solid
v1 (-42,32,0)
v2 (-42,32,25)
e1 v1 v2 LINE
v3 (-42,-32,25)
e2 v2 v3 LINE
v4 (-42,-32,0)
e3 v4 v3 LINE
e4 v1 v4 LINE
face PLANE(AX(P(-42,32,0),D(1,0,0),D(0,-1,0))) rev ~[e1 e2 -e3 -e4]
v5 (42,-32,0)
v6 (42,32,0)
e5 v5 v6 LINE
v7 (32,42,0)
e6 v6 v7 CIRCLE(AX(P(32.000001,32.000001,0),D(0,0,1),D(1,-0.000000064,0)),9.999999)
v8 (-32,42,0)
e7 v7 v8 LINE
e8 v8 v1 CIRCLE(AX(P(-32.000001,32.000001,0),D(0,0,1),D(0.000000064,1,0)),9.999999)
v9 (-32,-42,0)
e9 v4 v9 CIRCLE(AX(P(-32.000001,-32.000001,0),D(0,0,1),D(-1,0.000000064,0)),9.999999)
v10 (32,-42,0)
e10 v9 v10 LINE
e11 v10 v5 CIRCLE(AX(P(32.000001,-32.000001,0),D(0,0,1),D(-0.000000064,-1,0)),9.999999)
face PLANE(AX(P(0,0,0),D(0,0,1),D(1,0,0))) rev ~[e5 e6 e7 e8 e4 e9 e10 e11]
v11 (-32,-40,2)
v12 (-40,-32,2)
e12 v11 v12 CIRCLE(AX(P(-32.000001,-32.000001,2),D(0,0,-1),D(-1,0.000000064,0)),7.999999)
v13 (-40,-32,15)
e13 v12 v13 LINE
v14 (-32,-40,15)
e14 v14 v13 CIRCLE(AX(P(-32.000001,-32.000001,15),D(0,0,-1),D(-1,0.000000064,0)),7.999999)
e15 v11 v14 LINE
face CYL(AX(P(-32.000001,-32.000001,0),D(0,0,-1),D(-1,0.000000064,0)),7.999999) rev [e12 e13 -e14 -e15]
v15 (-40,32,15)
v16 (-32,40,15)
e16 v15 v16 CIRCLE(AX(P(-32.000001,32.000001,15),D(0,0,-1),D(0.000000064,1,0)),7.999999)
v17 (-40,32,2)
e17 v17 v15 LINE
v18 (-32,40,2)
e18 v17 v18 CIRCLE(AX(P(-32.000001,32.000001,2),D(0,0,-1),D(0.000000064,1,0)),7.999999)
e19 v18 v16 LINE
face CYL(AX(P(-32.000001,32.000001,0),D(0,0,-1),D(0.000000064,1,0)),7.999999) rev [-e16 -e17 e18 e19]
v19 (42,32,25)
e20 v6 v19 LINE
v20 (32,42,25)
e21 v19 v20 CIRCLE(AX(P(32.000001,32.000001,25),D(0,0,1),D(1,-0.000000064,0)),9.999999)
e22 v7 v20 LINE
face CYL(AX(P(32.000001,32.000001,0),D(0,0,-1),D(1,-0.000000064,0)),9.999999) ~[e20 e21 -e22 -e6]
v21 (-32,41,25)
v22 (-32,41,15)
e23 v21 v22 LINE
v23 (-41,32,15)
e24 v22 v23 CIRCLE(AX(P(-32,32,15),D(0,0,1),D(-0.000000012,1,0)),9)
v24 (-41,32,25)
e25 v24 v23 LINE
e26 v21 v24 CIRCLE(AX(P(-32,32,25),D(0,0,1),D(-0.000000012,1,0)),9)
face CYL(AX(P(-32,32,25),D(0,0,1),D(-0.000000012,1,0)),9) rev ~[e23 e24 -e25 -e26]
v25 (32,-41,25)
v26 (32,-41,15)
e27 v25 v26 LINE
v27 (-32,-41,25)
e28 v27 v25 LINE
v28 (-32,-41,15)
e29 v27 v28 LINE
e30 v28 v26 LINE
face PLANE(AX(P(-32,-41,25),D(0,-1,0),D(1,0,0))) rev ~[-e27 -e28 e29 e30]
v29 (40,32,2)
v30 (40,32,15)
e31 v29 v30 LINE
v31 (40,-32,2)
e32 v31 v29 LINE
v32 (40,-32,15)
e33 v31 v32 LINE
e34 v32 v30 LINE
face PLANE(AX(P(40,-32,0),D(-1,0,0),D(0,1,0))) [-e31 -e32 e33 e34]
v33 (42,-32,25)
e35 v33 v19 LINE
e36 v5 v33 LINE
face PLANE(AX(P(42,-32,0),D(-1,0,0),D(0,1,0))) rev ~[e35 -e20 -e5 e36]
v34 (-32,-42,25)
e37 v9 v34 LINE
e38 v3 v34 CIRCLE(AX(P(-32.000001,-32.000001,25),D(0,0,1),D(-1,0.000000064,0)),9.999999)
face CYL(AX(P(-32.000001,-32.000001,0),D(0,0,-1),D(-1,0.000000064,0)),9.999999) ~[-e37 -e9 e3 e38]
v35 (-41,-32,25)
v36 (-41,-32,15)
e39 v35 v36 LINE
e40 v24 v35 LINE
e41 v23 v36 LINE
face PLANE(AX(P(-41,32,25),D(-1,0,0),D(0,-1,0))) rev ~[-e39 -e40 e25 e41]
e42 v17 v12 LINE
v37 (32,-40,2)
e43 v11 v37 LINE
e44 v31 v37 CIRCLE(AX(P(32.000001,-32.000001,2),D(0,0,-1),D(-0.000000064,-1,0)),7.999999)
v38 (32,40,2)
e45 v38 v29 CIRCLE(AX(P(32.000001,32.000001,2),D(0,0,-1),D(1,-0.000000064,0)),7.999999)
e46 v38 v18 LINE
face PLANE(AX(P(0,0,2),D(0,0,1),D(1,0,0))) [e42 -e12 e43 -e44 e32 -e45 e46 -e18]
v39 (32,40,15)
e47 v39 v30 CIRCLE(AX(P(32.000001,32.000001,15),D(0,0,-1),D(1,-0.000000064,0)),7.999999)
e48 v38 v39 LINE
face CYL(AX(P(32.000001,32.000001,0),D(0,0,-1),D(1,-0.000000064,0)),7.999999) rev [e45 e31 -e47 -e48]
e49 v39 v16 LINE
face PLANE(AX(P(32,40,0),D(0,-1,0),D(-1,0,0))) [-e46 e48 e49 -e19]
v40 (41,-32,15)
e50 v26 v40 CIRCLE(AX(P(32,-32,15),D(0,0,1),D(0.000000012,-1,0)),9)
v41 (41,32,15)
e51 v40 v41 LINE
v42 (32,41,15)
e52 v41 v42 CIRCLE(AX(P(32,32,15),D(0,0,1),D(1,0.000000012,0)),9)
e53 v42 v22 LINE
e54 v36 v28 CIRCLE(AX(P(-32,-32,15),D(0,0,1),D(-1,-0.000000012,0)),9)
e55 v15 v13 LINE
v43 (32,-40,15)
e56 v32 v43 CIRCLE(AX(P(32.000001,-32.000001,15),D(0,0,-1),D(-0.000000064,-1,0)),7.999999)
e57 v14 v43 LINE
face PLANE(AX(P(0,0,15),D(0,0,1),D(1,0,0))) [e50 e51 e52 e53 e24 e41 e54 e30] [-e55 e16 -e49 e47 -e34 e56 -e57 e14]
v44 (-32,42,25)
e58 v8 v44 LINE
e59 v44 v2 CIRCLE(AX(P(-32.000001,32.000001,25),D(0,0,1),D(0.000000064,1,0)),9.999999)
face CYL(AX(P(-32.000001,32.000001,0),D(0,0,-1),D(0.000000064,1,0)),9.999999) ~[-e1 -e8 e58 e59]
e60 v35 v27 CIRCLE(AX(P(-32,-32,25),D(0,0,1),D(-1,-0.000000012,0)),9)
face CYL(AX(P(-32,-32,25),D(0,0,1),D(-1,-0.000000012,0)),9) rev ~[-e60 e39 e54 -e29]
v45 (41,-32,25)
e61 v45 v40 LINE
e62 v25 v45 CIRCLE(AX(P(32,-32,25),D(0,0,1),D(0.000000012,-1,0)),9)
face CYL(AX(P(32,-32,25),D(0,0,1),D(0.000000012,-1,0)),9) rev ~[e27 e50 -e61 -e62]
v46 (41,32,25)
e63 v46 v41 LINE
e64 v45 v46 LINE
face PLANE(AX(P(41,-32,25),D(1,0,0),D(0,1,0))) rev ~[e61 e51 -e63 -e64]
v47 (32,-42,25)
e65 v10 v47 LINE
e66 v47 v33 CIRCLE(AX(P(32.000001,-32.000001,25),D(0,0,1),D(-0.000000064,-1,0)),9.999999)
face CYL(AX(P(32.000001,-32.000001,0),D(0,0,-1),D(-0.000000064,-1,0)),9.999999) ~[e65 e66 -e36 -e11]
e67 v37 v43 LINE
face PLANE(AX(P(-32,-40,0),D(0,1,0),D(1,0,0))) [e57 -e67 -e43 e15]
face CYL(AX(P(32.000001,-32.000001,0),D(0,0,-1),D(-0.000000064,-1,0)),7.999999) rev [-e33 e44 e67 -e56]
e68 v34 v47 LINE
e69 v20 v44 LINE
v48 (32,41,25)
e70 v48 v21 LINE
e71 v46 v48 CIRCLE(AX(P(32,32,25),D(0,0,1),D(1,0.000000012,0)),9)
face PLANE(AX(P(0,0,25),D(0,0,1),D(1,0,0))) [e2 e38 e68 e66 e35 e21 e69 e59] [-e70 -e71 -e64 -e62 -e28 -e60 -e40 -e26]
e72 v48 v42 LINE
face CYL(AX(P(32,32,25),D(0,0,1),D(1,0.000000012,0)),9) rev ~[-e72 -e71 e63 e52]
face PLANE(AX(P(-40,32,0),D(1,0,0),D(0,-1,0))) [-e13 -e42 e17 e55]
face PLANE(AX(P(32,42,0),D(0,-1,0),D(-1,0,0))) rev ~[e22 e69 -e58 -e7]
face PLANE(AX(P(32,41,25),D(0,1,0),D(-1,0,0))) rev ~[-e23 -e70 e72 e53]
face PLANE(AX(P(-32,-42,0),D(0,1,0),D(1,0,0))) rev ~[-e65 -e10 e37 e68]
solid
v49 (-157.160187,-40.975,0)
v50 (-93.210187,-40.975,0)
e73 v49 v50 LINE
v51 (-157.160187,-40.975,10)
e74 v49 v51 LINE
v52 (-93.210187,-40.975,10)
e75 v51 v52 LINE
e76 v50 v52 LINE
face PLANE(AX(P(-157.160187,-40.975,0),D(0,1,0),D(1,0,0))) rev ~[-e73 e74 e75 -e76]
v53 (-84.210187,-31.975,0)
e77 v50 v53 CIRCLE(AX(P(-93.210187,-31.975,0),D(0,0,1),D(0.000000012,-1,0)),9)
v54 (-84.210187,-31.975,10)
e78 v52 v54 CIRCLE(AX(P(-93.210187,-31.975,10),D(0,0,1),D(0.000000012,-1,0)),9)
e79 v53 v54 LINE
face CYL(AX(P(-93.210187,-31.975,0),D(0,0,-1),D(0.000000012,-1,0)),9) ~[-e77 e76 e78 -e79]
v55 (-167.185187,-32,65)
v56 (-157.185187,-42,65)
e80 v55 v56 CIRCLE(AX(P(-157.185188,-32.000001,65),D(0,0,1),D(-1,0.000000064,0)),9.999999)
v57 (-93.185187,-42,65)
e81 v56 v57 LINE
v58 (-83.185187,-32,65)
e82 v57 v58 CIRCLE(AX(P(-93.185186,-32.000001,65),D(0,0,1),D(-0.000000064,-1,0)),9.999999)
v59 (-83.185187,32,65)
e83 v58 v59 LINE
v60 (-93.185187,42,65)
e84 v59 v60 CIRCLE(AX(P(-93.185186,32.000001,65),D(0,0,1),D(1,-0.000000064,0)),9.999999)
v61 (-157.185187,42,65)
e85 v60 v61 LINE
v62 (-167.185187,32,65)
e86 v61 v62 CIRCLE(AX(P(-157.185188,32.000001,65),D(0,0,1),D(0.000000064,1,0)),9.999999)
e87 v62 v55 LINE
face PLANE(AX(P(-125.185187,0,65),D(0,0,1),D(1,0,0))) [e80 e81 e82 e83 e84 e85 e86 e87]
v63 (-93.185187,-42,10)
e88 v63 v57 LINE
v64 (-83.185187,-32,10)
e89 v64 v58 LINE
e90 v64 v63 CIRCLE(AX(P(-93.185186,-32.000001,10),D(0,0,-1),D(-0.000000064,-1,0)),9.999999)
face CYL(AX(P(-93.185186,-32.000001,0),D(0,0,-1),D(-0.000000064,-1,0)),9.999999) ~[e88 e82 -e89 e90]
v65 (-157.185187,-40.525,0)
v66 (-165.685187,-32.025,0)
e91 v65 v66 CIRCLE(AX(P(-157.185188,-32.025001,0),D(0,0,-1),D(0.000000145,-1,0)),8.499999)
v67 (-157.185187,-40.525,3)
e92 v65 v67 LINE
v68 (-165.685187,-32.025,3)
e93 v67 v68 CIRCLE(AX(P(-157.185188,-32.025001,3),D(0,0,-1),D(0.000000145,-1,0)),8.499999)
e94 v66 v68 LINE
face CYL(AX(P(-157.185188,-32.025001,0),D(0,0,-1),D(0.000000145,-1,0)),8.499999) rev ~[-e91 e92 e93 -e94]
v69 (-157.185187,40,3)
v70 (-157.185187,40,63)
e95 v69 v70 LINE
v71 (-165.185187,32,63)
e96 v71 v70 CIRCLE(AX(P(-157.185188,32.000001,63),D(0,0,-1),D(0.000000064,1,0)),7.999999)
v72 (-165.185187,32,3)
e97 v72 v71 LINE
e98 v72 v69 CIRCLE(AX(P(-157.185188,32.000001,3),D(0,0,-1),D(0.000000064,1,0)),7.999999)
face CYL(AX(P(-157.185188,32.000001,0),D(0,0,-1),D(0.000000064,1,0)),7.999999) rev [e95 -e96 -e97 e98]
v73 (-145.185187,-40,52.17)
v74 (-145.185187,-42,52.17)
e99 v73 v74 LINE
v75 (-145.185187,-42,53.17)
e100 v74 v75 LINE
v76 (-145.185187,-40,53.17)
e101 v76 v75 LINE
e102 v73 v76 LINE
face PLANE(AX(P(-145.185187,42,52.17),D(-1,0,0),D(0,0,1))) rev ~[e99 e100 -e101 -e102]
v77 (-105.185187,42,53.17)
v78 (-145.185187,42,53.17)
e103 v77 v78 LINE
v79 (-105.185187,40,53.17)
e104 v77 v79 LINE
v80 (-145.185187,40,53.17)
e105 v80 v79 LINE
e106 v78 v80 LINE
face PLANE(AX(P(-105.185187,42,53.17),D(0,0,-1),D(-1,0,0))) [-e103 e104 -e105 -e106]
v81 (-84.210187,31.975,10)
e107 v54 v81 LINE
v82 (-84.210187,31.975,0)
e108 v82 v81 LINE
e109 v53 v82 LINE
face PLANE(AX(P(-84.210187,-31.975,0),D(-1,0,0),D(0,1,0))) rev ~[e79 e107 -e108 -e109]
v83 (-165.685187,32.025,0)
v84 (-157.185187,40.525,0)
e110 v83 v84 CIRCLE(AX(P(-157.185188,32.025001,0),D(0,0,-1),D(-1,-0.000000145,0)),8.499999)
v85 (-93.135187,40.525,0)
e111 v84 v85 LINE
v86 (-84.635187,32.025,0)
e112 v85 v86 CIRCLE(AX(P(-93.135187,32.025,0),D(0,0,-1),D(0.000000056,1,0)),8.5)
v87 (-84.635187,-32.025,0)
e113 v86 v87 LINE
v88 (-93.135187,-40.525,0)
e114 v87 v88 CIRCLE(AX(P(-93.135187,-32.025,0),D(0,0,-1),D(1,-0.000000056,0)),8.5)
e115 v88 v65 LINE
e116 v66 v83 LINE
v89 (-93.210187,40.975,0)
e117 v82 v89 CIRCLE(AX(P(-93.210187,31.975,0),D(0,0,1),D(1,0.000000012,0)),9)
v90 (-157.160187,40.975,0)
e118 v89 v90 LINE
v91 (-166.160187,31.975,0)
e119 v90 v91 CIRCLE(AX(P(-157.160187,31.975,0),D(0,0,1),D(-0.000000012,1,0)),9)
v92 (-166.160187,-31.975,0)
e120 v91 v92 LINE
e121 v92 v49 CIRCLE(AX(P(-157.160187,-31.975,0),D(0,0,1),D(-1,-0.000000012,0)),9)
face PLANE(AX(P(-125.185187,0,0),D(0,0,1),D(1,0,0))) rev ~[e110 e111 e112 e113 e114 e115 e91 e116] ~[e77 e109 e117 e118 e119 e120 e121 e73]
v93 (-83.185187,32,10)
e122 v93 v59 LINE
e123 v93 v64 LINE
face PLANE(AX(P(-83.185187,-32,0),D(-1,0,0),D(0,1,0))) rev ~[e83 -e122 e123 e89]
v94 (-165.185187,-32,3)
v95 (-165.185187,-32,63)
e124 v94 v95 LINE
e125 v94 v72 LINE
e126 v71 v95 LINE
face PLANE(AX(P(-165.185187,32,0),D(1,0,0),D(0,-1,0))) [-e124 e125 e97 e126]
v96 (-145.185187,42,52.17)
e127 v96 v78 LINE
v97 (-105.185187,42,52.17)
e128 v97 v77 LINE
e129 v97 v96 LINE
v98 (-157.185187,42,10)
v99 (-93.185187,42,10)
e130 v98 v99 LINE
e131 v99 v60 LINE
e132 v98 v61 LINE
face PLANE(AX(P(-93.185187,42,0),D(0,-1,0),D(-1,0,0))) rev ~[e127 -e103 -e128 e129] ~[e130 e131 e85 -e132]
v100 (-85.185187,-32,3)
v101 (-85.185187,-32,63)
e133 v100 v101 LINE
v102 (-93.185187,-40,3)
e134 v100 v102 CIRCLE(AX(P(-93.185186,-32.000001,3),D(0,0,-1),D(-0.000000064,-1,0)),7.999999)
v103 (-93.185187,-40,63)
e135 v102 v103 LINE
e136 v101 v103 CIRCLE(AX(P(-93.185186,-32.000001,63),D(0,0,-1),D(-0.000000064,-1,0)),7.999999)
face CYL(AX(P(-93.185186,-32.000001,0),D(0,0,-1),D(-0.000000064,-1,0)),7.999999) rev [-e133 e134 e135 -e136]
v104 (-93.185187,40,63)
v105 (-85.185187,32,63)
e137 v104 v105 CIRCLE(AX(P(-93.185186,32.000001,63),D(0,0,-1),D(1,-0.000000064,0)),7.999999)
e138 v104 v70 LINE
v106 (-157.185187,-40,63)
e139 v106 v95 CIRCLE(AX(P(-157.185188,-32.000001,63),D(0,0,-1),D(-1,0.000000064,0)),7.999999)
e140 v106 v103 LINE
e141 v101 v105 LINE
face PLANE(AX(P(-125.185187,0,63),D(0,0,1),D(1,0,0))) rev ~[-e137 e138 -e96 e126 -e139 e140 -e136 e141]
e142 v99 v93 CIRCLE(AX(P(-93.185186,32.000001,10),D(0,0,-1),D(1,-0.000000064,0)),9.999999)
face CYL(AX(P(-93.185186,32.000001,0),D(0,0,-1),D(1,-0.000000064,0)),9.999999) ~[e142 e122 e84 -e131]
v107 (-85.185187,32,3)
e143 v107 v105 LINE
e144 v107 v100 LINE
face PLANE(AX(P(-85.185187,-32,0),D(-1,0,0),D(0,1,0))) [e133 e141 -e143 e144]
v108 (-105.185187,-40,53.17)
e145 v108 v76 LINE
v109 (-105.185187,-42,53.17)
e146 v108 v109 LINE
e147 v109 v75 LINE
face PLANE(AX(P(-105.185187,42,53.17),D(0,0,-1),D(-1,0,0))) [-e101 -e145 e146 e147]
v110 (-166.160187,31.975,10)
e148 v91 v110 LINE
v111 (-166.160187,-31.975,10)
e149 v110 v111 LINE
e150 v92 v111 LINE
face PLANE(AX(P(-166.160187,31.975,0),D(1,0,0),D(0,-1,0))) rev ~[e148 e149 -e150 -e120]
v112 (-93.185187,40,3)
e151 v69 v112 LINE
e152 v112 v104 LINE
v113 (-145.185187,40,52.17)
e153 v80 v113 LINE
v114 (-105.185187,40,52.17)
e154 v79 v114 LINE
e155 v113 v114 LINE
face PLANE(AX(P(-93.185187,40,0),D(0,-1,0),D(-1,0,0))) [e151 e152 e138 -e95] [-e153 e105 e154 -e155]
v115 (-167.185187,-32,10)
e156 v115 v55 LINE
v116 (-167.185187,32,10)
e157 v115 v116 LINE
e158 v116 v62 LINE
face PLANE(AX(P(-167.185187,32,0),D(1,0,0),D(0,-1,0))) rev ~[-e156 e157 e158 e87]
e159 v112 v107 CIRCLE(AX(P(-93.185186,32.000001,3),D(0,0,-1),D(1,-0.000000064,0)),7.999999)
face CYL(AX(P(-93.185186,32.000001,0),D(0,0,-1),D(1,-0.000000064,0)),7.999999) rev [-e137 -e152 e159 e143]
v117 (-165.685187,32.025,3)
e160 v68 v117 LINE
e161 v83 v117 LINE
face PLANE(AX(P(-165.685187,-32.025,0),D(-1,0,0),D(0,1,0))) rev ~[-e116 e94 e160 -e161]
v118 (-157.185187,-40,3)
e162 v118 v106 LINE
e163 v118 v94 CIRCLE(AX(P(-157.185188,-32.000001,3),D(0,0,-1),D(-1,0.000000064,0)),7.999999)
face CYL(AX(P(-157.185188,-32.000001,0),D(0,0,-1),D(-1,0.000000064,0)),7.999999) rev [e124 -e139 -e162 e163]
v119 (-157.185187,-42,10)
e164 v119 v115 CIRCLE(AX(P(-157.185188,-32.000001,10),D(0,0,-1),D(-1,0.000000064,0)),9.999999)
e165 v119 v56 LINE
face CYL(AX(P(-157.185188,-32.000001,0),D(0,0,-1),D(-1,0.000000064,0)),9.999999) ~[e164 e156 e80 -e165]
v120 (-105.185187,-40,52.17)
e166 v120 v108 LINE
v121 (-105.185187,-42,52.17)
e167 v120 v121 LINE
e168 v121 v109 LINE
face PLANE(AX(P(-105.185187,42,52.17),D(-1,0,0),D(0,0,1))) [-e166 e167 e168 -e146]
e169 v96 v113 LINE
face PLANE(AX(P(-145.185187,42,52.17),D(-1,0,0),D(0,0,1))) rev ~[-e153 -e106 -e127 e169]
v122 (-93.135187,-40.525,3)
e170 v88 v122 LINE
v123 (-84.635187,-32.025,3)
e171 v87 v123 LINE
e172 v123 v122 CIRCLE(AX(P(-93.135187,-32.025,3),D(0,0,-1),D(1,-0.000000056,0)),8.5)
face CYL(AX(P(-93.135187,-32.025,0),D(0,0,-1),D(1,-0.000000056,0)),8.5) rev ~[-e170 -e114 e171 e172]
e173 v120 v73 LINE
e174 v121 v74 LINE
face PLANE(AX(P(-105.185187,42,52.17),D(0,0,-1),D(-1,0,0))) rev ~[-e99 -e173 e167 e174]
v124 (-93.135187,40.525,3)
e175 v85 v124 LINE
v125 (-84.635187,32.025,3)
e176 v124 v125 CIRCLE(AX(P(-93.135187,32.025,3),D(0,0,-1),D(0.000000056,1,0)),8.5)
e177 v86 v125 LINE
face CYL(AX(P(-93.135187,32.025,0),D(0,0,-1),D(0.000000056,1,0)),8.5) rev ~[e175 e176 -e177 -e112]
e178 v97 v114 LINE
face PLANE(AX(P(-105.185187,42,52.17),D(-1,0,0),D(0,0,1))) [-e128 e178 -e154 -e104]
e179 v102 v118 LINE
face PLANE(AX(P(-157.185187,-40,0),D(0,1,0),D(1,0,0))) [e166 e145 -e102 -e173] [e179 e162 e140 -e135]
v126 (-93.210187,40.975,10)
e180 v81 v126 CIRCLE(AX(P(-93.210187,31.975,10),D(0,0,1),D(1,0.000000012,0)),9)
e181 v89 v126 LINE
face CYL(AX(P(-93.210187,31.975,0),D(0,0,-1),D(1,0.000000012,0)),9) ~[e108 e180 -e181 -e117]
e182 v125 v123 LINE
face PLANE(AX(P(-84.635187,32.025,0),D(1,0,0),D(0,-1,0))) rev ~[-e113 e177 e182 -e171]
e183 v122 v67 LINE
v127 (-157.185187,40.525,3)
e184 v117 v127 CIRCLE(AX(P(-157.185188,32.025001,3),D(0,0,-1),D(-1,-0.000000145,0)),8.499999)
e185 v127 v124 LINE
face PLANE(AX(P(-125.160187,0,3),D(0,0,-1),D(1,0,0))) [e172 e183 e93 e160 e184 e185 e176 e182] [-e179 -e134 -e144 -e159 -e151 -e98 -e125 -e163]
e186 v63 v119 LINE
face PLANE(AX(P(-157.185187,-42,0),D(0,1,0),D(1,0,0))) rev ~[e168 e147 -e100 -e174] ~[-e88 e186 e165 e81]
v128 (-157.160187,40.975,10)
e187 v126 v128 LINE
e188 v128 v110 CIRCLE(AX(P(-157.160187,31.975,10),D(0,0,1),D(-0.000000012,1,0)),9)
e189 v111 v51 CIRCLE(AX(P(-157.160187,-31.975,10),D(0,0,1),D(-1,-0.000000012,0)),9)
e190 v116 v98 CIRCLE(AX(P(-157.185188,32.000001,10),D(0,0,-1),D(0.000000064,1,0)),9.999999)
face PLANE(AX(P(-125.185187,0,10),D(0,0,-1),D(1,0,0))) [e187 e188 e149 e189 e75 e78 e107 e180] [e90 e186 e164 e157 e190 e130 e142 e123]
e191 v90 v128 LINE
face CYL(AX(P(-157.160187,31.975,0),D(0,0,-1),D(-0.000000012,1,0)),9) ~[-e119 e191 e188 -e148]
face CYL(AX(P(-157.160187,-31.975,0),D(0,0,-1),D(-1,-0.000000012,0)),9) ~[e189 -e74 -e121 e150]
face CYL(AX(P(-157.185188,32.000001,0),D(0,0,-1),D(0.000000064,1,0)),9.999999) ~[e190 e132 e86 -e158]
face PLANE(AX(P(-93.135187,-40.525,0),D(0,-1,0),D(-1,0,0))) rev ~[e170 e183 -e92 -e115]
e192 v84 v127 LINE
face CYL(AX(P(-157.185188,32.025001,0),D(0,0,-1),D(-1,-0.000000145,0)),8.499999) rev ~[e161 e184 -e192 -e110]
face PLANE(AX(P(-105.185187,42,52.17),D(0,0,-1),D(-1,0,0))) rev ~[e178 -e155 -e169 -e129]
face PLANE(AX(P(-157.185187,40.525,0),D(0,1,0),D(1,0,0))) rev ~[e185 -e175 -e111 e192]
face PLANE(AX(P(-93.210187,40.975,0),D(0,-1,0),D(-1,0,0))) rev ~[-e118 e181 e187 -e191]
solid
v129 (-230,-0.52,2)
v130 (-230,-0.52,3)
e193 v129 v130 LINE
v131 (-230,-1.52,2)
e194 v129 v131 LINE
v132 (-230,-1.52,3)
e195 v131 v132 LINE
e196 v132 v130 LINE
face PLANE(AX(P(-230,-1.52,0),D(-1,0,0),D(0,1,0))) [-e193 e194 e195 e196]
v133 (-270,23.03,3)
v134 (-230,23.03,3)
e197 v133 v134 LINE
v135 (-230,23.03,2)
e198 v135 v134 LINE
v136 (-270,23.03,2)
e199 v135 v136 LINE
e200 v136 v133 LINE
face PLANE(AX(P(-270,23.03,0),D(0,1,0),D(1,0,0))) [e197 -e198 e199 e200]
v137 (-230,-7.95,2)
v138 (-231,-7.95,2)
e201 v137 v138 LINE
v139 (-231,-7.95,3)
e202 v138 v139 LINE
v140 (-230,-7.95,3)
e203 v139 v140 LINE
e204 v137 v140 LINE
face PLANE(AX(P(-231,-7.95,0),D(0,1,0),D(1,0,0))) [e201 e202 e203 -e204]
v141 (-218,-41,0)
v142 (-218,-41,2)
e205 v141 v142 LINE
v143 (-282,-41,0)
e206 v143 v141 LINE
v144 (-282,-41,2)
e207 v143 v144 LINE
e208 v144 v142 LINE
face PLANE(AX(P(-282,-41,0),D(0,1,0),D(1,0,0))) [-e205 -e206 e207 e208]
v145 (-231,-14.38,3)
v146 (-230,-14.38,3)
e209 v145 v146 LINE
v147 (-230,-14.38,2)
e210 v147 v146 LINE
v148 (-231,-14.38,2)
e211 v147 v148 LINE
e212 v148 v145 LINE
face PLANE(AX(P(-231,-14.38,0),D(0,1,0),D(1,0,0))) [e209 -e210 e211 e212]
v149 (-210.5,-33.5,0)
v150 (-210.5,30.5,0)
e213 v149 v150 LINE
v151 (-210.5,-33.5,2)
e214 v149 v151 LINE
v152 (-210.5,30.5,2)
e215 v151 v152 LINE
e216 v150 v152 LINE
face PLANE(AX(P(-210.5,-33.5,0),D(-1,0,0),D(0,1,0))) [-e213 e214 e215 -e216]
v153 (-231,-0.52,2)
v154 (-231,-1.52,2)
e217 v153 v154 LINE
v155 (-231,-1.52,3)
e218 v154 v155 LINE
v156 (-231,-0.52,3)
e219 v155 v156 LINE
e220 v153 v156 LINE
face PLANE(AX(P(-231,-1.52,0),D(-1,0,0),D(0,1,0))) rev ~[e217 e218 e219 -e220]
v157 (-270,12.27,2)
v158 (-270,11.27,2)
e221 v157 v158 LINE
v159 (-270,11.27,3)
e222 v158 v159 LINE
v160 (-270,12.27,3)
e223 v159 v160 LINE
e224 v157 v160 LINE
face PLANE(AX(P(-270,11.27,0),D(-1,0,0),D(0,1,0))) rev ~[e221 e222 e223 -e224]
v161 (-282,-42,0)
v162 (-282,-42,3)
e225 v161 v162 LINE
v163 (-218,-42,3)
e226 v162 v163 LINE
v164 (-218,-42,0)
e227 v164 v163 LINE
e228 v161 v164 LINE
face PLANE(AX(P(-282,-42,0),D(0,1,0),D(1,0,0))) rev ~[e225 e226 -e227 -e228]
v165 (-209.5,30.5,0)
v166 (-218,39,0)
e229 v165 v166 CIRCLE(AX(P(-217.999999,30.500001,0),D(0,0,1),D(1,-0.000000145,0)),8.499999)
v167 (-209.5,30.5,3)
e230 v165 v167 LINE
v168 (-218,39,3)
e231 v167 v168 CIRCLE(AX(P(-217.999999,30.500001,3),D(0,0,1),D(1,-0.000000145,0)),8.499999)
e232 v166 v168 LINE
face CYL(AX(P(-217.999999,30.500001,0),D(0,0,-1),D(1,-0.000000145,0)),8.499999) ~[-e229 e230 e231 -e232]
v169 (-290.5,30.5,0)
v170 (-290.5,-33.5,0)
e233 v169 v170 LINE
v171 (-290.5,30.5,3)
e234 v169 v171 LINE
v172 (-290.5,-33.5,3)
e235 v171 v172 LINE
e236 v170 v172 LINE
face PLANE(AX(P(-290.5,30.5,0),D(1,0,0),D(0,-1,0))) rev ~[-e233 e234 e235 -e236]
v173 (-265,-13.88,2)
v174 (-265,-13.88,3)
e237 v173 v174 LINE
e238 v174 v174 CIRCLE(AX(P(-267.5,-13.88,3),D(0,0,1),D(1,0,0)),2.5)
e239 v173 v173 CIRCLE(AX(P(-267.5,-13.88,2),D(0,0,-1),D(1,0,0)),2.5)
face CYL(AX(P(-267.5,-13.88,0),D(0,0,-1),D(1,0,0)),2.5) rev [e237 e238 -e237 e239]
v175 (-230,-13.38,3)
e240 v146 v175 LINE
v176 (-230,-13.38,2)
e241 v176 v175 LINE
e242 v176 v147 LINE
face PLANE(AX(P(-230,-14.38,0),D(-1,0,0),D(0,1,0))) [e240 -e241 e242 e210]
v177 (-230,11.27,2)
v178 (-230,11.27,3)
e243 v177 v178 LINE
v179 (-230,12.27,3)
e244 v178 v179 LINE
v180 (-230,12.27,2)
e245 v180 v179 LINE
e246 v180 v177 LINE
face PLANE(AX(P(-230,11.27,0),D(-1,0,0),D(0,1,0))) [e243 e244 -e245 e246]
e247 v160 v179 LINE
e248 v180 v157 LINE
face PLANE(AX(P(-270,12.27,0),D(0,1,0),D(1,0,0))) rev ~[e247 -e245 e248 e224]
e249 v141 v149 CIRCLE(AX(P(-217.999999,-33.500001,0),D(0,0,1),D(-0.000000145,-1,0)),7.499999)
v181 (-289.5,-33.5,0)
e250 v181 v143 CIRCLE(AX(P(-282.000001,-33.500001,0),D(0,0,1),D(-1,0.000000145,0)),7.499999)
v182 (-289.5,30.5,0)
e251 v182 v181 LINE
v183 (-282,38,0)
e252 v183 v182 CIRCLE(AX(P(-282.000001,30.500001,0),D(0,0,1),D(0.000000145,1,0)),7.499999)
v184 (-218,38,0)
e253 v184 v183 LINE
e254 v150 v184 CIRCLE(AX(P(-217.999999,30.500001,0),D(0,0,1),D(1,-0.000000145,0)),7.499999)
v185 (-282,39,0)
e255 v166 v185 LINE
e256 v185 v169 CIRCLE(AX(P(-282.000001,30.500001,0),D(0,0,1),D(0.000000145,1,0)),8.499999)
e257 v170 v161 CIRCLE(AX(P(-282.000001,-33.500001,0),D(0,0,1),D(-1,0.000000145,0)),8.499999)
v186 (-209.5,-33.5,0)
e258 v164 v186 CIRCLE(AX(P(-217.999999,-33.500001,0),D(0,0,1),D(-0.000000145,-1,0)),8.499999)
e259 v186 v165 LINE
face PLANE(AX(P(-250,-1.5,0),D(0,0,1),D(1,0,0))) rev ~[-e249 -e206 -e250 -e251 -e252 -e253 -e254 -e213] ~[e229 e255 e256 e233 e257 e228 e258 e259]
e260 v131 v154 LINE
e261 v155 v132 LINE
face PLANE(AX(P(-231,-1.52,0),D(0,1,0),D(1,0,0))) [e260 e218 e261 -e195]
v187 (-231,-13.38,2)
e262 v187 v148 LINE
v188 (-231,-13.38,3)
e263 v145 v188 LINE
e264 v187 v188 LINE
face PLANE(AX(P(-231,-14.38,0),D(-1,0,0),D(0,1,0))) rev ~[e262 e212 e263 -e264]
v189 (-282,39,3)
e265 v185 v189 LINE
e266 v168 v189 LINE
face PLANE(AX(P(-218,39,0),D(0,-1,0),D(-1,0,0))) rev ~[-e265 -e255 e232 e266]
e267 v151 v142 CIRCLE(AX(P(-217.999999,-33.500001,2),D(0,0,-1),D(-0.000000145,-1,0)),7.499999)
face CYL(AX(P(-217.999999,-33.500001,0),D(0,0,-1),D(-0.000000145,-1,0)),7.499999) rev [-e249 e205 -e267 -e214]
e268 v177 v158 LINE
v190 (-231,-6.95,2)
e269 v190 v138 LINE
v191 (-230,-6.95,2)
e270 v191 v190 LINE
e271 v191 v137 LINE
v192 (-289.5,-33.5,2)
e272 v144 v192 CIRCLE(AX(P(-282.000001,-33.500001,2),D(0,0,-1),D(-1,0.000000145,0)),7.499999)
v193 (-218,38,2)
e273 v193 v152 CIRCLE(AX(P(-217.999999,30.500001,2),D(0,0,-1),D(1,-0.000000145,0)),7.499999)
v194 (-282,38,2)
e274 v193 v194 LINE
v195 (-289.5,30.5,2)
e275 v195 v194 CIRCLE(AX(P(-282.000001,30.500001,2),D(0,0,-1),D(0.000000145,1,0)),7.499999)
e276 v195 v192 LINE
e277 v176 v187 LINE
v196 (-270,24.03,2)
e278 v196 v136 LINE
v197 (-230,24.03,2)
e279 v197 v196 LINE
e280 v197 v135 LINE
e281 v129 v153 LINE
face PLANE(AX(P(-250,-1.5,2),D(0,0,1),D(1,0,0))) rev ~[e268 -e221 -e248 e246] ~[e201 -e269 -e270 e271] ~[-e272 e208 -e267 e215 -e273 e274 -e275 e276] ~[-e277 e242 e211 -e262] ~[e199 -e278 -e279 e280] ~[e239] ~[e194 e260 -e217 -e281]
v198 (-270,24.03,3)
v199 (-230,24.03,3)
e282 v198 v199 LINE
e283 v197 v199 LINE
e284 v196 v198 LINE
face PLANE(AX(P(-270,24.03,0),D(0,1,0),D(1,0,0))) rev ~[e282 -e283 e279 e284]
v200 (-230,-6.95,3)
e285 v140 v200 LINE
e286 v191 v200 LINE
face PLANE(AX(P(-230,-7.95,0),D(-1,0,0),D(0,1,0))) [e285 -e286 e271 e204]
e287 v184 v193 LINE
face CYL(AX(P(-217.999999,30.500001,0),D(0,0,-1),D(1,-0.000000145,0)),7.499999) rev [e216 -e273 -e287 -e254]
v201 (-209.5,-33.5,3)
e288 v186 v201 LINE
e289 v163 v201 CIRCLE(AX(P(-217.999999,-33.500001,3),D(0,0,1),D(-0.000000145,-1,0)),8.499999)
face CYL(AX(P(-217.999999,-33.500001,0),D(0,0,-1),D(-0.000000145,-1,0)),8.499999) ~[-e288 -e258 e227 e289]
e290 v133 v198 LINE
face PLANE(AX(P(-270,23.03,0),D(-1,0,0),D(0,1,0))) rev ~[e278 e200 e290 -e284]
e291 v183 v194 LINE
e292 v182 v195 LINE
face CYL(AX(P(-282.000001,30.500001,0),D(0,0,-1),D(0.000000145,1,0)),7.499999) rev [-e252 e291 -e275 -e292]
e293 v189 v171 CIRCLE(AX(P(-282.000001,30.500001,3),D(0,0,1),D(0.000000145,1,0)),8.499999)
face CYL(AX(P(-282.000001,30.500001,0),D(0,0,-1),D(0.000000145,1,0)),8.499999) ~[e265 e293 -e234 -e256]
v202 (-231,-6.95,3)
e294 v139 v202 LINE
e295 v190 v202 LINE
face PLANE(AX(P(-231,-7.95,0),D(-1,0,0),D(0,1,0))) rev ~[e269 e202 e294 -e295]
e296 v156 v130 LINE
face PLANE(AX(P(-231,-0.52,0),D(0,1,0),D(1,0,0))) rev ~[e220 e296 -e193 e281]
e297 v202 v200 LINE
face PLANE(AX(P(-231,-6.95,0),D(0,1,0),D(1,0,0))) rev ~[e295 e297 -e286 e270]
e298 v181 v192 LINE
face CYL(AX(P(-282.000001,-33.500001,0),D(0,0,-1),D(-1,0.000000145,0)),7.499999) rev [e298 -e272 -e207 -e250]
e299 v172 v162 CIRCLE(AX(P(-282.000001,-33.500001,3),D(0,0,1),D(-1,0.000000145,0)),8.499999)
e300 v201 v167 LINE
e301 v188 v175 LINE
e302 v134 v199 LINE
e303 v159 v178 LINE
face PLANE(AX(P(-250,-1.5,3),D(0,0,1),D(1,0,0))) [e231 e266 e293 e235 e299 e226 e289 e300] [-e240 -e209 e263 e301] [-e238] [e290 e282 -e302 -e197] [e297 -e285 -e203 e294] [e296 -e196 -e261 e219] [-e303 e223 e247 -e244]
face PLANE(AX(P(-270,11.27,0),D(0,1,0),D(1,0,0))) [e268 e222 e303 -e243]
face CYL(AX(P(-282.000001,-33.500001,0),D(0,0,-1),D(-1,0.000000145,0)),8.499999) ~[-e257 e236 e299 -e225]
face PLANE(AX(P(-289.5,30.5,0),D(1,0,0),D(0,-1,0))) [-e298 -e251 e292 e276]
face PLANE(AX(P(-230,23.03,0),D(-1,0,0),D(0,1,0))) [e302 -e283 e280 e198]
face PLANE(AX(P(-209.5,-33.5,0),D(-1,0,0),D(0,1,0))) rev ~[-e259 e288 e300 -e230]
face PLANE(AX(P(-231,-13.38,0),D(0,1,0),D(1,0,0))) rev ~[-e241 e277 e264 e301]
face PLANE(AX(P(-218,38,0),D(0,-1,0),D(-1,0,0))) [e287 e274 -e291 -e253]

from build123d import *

# Parameters (mm, degrees)
F1_DEPTH  = 25
F2_T      = -2
F4_DEPTH  = 10
F6_DEPTH  = 65
F7_T      = -2
F8_W      = 91.175536
F8_H      = 98.510154
F9_DEPTH  = 10
F11_DEPTH = 3
F12_R     = 2.5
F12_W     = 1
F12_H     = 1
F12_W_2   = 40
F13_DEPTH = 3
F14_W     = 40
F14_H     = 1
F15_DEPTH = 84.001
F16_T     = -1
F17_W     = 56.260198
F17_H     = 52.576504
F18_DEPTH = 25


with BuildPart() as f1:
    # F0 (on Top) → F1 (new body)
    with BuildSketch(Plane.XY):
        with BuildLine():
            ThreePointArc((-42, -32), (-39.071068, -39.071068), (-32, -42))
            Line((-32, -42), (32, -42))
            ThreePointArc((32, -42), (39.071068, -39.071068), (42, -32))
            Line((42, -32), (42, 32))
            ThreePointArc((42, 32), (39.071068, 39.071068), (32, 42))
            Line((32, 42), (-32, 42))
            ThreePointArc((-32, 42), (-39.071068, 39.071068), (-42, 32))
            Line((-42, 32), (-42, -32))
        make_face()
    extrude(amount=F1_DEPTH)

    # F2
    f2_openings = [f1.faces().sort_by_distance(p)[0] for p in [
        (0, 0, 25),
    ]]
    offset(amount=F2_T, openings=f2_openings)

    # F3 (on face) → F4 (cut)
    with BuildSketch(Plane.XY.offset(25)):
        with BuildLine():
            Line((32, 41), (-32, 41))
            ThreePointArc((-32, 41), (-38.363961, 38.363961), (-41, 32))
            Line((-41, 32), (-41, -32))
            ThreePointArc((-41, -32), (-38.363961, -38.363961), (-32, -41))
            Line((-32, -41), (32, -41))
            ThreePointArc((32, -41), (38.363961, -38.363961), (41, -32))
            Line((41, -32), (41, 32))
            ThreePointArc((41, 32), (38.363961, 38.363961), (32, 41))
        make_face()
    extrude(amount=-F4_DEPTH, mode=Mode.SUBTRACT)


with BuildPart() as f6:
    # F5 (on Top) → F6 (new body)
    with BuildSketch(Plane.XY):
        with BuildLine():
            Line((-157.185187, -42), (-93.185187, -42))
            ThreePointArc((-93.185187, -42), (-86.114119, -39.071068), (-83.185187, -32))
            Line((-83.185187, -32), (-83.185187, 32))
            ThreePointArc((-83.185187, 32), (-86.114119, 39.071068), (-93.185187, 42))
            Line((-93.185187, 42), (-157.185187, 42))
            ThreePointArc((-157.185187, 42), (-164.256255, 39.071068), (-167.185187, 32))
            Line((-167.185187, 32), (-167.185187, -32))
            ThreePointArc((-167.185187, -32), (-164.256255, -39.071068), (-157.185187, -42))
        make_face()
    extrude(amount=F6_DEPTH)

    # F7
    f7_openings = [f6.faces().sort_by_distance(p)[0] for p in [
        (-125.185187, 0, 0),
    ]]
    offset(amount=F7_T, openings=f7_openings)

    # F8 (on face) → F9 (cut)
    with BuildSketch(Plane(origin=(0, 0, 0), x_dir=(1, 0, 0), z_dir=(0, 0, -1))):
        with Locations((-125.185187, 0)):
            Rectangle(F8_W, F8_H)
        with BuildLine():
            ThreePointArc((-166.160187, 31.975), (-163.524148, 38.338961), (-157.160187, 40.975))
            Line((-157.160187, 40.975), (-93.210187, 40.975))
            ThreePointArc((-93.210187, 40.975), (-86.846226, 38.338961), (-84.210187, 31.975))
            Line((-84.210187, 31.975), (-84.210187, -31.975))
            ThreePointArc((-84.210187, -31.975), (-86.846226, -38.338961), (-93.210187, -40.975))
            Line((-93.210187, -40.975), (-157.160187, -40.975))
            ThreePointArc((-157.160187, -40.975), (-163.524148, -38.338961), (-166.160187, -31.975))
            Line((-166.160187, -31.975), (-166.160187, 31.975))
        make_face(mode=Mode.SUBTRACT)
    extrude(amount=-F9_DEPTH, mode=Mode.SUBTRACT)

    # F10 (on face) → F11 (cut)
    with BuildSketch(Plane(origin=(0, 0, 0), x_dir=(1, 0, 0), z_dir=(0, 0, -1))):
        with BuildLine():
            Line((-157.185187, -40.525), (-93.135187, -40.525))
            ThreePointArc((-93.135187, -40.525), (-87.12478, -38.035408), (-84.635187, -32.025))
            Line((-84.635187, -32.025), (-84.635187, 32.025))
            ThreePointArc((-84.635187, 32.025), (-87.12478, 38.035408), (-93.135187, 40.525))
            Line((-93.135187, 40.525), (-157.185187, 40.525))
            ThreePointArc((-157.185187, 40.525), (-163.195595, 38.035408), (-165.685187, 32.025))
            Line((-165.685187, 32.025), (-165.685187, -32.025))
            ThreePointArc((-165.685187, -32.025), (-163.195595, -38.035408), (-157.185187, -40.525))
        make_face()
    extrude(amount=-F11_DEPTH, mode=Mode.SUBTRACT)

    # F14 (on face) → F15 (cut, through all)
    with BuildSketch(Plane(origin=(0, 42, 0), x_dir=(-1, 0, 0), z_dir=(0, 1, 0))):
        with Locations((125.185187, 52.67)):
            Rectangle(F14_W, F14_H)
    extrude(amount=-F15_DEPTH, mode=Mode.SUBTRACT)


with BuildPart() as f13:
    # F12 (on Top) → F13 (new body)
    with BuildSketch(Plane.XY):
        with BuildLine():
            ThreePointArc((-290.5, -33.5), (-288.010408, -39.510408), (-282, -42))
            Line((-282, -42), (-218, -42))
            ThreePointArc((-218, -42), (-211.989592, -39.510408), (-209.5, -33.5))
            Line((-209.5, -33.5), (-209.5, 30.5))
            ThreePointArc((-209.5, 30.5), (-211.989592, 36.510408), (-218, 39))
            Line((-218, 39), (-282, 39))
            ThreePointArc((-282, 39), (-288.010408, 36.510408), (-290.5, 30.5))
            Line((-290.5, 30.5), (-290.5, -33.5))
        make_face()
        with Locations((-267.5, -13.88)):
            Circle(F12_R, mode=Mode.SUBTRACT)
        with Locations((-230.5, -13.88)):
            Rectangle(F12_W, F12_H, mode=Mode.SUBTRACT)
        with Locations((-230.5, -7.45)):
            Rectangle(F12_W, F12_H, mode=Mode.SUBTRACT)
        with Locations((-230.5, -1.02)):
            Rectangle(F12_W, F12_H, mode=Mode.SUBTRACT)
        with Locations((-250, 11.77)):
            Rectangle(F12_W_2, F12_H, mode=Mode.SUBTRACT)
        with Locations((-250, 23.53)):
            Rectangle(F12_W_2, F12_H, mode=Mode.SUBTRACT)
    extrude(amount=F13_DEPTH)

    # F16
    f16_openings = [f13.faces().sort_by_distance(p)[0] for p in [
        (-249.955426, -1.698718, 0),
    ]]
    offset(amount=F16_T, openings=f16_openings)

    # F17 (on face) → F18 (cut)
    with BuildSketch(Plane(origin=(0, 0, 2), x_dir=(1, 0, 0), z_dir=(0, 0, -1))):
        with Locations((-249.237731, -3.683705)):
            Rectangle(F17_W, F17_H)
    extrude(amount=F18_DEPTH, mode=Mode.SUBTRACT)


solid = Compound([f1.part, f6.part, f13.part])
